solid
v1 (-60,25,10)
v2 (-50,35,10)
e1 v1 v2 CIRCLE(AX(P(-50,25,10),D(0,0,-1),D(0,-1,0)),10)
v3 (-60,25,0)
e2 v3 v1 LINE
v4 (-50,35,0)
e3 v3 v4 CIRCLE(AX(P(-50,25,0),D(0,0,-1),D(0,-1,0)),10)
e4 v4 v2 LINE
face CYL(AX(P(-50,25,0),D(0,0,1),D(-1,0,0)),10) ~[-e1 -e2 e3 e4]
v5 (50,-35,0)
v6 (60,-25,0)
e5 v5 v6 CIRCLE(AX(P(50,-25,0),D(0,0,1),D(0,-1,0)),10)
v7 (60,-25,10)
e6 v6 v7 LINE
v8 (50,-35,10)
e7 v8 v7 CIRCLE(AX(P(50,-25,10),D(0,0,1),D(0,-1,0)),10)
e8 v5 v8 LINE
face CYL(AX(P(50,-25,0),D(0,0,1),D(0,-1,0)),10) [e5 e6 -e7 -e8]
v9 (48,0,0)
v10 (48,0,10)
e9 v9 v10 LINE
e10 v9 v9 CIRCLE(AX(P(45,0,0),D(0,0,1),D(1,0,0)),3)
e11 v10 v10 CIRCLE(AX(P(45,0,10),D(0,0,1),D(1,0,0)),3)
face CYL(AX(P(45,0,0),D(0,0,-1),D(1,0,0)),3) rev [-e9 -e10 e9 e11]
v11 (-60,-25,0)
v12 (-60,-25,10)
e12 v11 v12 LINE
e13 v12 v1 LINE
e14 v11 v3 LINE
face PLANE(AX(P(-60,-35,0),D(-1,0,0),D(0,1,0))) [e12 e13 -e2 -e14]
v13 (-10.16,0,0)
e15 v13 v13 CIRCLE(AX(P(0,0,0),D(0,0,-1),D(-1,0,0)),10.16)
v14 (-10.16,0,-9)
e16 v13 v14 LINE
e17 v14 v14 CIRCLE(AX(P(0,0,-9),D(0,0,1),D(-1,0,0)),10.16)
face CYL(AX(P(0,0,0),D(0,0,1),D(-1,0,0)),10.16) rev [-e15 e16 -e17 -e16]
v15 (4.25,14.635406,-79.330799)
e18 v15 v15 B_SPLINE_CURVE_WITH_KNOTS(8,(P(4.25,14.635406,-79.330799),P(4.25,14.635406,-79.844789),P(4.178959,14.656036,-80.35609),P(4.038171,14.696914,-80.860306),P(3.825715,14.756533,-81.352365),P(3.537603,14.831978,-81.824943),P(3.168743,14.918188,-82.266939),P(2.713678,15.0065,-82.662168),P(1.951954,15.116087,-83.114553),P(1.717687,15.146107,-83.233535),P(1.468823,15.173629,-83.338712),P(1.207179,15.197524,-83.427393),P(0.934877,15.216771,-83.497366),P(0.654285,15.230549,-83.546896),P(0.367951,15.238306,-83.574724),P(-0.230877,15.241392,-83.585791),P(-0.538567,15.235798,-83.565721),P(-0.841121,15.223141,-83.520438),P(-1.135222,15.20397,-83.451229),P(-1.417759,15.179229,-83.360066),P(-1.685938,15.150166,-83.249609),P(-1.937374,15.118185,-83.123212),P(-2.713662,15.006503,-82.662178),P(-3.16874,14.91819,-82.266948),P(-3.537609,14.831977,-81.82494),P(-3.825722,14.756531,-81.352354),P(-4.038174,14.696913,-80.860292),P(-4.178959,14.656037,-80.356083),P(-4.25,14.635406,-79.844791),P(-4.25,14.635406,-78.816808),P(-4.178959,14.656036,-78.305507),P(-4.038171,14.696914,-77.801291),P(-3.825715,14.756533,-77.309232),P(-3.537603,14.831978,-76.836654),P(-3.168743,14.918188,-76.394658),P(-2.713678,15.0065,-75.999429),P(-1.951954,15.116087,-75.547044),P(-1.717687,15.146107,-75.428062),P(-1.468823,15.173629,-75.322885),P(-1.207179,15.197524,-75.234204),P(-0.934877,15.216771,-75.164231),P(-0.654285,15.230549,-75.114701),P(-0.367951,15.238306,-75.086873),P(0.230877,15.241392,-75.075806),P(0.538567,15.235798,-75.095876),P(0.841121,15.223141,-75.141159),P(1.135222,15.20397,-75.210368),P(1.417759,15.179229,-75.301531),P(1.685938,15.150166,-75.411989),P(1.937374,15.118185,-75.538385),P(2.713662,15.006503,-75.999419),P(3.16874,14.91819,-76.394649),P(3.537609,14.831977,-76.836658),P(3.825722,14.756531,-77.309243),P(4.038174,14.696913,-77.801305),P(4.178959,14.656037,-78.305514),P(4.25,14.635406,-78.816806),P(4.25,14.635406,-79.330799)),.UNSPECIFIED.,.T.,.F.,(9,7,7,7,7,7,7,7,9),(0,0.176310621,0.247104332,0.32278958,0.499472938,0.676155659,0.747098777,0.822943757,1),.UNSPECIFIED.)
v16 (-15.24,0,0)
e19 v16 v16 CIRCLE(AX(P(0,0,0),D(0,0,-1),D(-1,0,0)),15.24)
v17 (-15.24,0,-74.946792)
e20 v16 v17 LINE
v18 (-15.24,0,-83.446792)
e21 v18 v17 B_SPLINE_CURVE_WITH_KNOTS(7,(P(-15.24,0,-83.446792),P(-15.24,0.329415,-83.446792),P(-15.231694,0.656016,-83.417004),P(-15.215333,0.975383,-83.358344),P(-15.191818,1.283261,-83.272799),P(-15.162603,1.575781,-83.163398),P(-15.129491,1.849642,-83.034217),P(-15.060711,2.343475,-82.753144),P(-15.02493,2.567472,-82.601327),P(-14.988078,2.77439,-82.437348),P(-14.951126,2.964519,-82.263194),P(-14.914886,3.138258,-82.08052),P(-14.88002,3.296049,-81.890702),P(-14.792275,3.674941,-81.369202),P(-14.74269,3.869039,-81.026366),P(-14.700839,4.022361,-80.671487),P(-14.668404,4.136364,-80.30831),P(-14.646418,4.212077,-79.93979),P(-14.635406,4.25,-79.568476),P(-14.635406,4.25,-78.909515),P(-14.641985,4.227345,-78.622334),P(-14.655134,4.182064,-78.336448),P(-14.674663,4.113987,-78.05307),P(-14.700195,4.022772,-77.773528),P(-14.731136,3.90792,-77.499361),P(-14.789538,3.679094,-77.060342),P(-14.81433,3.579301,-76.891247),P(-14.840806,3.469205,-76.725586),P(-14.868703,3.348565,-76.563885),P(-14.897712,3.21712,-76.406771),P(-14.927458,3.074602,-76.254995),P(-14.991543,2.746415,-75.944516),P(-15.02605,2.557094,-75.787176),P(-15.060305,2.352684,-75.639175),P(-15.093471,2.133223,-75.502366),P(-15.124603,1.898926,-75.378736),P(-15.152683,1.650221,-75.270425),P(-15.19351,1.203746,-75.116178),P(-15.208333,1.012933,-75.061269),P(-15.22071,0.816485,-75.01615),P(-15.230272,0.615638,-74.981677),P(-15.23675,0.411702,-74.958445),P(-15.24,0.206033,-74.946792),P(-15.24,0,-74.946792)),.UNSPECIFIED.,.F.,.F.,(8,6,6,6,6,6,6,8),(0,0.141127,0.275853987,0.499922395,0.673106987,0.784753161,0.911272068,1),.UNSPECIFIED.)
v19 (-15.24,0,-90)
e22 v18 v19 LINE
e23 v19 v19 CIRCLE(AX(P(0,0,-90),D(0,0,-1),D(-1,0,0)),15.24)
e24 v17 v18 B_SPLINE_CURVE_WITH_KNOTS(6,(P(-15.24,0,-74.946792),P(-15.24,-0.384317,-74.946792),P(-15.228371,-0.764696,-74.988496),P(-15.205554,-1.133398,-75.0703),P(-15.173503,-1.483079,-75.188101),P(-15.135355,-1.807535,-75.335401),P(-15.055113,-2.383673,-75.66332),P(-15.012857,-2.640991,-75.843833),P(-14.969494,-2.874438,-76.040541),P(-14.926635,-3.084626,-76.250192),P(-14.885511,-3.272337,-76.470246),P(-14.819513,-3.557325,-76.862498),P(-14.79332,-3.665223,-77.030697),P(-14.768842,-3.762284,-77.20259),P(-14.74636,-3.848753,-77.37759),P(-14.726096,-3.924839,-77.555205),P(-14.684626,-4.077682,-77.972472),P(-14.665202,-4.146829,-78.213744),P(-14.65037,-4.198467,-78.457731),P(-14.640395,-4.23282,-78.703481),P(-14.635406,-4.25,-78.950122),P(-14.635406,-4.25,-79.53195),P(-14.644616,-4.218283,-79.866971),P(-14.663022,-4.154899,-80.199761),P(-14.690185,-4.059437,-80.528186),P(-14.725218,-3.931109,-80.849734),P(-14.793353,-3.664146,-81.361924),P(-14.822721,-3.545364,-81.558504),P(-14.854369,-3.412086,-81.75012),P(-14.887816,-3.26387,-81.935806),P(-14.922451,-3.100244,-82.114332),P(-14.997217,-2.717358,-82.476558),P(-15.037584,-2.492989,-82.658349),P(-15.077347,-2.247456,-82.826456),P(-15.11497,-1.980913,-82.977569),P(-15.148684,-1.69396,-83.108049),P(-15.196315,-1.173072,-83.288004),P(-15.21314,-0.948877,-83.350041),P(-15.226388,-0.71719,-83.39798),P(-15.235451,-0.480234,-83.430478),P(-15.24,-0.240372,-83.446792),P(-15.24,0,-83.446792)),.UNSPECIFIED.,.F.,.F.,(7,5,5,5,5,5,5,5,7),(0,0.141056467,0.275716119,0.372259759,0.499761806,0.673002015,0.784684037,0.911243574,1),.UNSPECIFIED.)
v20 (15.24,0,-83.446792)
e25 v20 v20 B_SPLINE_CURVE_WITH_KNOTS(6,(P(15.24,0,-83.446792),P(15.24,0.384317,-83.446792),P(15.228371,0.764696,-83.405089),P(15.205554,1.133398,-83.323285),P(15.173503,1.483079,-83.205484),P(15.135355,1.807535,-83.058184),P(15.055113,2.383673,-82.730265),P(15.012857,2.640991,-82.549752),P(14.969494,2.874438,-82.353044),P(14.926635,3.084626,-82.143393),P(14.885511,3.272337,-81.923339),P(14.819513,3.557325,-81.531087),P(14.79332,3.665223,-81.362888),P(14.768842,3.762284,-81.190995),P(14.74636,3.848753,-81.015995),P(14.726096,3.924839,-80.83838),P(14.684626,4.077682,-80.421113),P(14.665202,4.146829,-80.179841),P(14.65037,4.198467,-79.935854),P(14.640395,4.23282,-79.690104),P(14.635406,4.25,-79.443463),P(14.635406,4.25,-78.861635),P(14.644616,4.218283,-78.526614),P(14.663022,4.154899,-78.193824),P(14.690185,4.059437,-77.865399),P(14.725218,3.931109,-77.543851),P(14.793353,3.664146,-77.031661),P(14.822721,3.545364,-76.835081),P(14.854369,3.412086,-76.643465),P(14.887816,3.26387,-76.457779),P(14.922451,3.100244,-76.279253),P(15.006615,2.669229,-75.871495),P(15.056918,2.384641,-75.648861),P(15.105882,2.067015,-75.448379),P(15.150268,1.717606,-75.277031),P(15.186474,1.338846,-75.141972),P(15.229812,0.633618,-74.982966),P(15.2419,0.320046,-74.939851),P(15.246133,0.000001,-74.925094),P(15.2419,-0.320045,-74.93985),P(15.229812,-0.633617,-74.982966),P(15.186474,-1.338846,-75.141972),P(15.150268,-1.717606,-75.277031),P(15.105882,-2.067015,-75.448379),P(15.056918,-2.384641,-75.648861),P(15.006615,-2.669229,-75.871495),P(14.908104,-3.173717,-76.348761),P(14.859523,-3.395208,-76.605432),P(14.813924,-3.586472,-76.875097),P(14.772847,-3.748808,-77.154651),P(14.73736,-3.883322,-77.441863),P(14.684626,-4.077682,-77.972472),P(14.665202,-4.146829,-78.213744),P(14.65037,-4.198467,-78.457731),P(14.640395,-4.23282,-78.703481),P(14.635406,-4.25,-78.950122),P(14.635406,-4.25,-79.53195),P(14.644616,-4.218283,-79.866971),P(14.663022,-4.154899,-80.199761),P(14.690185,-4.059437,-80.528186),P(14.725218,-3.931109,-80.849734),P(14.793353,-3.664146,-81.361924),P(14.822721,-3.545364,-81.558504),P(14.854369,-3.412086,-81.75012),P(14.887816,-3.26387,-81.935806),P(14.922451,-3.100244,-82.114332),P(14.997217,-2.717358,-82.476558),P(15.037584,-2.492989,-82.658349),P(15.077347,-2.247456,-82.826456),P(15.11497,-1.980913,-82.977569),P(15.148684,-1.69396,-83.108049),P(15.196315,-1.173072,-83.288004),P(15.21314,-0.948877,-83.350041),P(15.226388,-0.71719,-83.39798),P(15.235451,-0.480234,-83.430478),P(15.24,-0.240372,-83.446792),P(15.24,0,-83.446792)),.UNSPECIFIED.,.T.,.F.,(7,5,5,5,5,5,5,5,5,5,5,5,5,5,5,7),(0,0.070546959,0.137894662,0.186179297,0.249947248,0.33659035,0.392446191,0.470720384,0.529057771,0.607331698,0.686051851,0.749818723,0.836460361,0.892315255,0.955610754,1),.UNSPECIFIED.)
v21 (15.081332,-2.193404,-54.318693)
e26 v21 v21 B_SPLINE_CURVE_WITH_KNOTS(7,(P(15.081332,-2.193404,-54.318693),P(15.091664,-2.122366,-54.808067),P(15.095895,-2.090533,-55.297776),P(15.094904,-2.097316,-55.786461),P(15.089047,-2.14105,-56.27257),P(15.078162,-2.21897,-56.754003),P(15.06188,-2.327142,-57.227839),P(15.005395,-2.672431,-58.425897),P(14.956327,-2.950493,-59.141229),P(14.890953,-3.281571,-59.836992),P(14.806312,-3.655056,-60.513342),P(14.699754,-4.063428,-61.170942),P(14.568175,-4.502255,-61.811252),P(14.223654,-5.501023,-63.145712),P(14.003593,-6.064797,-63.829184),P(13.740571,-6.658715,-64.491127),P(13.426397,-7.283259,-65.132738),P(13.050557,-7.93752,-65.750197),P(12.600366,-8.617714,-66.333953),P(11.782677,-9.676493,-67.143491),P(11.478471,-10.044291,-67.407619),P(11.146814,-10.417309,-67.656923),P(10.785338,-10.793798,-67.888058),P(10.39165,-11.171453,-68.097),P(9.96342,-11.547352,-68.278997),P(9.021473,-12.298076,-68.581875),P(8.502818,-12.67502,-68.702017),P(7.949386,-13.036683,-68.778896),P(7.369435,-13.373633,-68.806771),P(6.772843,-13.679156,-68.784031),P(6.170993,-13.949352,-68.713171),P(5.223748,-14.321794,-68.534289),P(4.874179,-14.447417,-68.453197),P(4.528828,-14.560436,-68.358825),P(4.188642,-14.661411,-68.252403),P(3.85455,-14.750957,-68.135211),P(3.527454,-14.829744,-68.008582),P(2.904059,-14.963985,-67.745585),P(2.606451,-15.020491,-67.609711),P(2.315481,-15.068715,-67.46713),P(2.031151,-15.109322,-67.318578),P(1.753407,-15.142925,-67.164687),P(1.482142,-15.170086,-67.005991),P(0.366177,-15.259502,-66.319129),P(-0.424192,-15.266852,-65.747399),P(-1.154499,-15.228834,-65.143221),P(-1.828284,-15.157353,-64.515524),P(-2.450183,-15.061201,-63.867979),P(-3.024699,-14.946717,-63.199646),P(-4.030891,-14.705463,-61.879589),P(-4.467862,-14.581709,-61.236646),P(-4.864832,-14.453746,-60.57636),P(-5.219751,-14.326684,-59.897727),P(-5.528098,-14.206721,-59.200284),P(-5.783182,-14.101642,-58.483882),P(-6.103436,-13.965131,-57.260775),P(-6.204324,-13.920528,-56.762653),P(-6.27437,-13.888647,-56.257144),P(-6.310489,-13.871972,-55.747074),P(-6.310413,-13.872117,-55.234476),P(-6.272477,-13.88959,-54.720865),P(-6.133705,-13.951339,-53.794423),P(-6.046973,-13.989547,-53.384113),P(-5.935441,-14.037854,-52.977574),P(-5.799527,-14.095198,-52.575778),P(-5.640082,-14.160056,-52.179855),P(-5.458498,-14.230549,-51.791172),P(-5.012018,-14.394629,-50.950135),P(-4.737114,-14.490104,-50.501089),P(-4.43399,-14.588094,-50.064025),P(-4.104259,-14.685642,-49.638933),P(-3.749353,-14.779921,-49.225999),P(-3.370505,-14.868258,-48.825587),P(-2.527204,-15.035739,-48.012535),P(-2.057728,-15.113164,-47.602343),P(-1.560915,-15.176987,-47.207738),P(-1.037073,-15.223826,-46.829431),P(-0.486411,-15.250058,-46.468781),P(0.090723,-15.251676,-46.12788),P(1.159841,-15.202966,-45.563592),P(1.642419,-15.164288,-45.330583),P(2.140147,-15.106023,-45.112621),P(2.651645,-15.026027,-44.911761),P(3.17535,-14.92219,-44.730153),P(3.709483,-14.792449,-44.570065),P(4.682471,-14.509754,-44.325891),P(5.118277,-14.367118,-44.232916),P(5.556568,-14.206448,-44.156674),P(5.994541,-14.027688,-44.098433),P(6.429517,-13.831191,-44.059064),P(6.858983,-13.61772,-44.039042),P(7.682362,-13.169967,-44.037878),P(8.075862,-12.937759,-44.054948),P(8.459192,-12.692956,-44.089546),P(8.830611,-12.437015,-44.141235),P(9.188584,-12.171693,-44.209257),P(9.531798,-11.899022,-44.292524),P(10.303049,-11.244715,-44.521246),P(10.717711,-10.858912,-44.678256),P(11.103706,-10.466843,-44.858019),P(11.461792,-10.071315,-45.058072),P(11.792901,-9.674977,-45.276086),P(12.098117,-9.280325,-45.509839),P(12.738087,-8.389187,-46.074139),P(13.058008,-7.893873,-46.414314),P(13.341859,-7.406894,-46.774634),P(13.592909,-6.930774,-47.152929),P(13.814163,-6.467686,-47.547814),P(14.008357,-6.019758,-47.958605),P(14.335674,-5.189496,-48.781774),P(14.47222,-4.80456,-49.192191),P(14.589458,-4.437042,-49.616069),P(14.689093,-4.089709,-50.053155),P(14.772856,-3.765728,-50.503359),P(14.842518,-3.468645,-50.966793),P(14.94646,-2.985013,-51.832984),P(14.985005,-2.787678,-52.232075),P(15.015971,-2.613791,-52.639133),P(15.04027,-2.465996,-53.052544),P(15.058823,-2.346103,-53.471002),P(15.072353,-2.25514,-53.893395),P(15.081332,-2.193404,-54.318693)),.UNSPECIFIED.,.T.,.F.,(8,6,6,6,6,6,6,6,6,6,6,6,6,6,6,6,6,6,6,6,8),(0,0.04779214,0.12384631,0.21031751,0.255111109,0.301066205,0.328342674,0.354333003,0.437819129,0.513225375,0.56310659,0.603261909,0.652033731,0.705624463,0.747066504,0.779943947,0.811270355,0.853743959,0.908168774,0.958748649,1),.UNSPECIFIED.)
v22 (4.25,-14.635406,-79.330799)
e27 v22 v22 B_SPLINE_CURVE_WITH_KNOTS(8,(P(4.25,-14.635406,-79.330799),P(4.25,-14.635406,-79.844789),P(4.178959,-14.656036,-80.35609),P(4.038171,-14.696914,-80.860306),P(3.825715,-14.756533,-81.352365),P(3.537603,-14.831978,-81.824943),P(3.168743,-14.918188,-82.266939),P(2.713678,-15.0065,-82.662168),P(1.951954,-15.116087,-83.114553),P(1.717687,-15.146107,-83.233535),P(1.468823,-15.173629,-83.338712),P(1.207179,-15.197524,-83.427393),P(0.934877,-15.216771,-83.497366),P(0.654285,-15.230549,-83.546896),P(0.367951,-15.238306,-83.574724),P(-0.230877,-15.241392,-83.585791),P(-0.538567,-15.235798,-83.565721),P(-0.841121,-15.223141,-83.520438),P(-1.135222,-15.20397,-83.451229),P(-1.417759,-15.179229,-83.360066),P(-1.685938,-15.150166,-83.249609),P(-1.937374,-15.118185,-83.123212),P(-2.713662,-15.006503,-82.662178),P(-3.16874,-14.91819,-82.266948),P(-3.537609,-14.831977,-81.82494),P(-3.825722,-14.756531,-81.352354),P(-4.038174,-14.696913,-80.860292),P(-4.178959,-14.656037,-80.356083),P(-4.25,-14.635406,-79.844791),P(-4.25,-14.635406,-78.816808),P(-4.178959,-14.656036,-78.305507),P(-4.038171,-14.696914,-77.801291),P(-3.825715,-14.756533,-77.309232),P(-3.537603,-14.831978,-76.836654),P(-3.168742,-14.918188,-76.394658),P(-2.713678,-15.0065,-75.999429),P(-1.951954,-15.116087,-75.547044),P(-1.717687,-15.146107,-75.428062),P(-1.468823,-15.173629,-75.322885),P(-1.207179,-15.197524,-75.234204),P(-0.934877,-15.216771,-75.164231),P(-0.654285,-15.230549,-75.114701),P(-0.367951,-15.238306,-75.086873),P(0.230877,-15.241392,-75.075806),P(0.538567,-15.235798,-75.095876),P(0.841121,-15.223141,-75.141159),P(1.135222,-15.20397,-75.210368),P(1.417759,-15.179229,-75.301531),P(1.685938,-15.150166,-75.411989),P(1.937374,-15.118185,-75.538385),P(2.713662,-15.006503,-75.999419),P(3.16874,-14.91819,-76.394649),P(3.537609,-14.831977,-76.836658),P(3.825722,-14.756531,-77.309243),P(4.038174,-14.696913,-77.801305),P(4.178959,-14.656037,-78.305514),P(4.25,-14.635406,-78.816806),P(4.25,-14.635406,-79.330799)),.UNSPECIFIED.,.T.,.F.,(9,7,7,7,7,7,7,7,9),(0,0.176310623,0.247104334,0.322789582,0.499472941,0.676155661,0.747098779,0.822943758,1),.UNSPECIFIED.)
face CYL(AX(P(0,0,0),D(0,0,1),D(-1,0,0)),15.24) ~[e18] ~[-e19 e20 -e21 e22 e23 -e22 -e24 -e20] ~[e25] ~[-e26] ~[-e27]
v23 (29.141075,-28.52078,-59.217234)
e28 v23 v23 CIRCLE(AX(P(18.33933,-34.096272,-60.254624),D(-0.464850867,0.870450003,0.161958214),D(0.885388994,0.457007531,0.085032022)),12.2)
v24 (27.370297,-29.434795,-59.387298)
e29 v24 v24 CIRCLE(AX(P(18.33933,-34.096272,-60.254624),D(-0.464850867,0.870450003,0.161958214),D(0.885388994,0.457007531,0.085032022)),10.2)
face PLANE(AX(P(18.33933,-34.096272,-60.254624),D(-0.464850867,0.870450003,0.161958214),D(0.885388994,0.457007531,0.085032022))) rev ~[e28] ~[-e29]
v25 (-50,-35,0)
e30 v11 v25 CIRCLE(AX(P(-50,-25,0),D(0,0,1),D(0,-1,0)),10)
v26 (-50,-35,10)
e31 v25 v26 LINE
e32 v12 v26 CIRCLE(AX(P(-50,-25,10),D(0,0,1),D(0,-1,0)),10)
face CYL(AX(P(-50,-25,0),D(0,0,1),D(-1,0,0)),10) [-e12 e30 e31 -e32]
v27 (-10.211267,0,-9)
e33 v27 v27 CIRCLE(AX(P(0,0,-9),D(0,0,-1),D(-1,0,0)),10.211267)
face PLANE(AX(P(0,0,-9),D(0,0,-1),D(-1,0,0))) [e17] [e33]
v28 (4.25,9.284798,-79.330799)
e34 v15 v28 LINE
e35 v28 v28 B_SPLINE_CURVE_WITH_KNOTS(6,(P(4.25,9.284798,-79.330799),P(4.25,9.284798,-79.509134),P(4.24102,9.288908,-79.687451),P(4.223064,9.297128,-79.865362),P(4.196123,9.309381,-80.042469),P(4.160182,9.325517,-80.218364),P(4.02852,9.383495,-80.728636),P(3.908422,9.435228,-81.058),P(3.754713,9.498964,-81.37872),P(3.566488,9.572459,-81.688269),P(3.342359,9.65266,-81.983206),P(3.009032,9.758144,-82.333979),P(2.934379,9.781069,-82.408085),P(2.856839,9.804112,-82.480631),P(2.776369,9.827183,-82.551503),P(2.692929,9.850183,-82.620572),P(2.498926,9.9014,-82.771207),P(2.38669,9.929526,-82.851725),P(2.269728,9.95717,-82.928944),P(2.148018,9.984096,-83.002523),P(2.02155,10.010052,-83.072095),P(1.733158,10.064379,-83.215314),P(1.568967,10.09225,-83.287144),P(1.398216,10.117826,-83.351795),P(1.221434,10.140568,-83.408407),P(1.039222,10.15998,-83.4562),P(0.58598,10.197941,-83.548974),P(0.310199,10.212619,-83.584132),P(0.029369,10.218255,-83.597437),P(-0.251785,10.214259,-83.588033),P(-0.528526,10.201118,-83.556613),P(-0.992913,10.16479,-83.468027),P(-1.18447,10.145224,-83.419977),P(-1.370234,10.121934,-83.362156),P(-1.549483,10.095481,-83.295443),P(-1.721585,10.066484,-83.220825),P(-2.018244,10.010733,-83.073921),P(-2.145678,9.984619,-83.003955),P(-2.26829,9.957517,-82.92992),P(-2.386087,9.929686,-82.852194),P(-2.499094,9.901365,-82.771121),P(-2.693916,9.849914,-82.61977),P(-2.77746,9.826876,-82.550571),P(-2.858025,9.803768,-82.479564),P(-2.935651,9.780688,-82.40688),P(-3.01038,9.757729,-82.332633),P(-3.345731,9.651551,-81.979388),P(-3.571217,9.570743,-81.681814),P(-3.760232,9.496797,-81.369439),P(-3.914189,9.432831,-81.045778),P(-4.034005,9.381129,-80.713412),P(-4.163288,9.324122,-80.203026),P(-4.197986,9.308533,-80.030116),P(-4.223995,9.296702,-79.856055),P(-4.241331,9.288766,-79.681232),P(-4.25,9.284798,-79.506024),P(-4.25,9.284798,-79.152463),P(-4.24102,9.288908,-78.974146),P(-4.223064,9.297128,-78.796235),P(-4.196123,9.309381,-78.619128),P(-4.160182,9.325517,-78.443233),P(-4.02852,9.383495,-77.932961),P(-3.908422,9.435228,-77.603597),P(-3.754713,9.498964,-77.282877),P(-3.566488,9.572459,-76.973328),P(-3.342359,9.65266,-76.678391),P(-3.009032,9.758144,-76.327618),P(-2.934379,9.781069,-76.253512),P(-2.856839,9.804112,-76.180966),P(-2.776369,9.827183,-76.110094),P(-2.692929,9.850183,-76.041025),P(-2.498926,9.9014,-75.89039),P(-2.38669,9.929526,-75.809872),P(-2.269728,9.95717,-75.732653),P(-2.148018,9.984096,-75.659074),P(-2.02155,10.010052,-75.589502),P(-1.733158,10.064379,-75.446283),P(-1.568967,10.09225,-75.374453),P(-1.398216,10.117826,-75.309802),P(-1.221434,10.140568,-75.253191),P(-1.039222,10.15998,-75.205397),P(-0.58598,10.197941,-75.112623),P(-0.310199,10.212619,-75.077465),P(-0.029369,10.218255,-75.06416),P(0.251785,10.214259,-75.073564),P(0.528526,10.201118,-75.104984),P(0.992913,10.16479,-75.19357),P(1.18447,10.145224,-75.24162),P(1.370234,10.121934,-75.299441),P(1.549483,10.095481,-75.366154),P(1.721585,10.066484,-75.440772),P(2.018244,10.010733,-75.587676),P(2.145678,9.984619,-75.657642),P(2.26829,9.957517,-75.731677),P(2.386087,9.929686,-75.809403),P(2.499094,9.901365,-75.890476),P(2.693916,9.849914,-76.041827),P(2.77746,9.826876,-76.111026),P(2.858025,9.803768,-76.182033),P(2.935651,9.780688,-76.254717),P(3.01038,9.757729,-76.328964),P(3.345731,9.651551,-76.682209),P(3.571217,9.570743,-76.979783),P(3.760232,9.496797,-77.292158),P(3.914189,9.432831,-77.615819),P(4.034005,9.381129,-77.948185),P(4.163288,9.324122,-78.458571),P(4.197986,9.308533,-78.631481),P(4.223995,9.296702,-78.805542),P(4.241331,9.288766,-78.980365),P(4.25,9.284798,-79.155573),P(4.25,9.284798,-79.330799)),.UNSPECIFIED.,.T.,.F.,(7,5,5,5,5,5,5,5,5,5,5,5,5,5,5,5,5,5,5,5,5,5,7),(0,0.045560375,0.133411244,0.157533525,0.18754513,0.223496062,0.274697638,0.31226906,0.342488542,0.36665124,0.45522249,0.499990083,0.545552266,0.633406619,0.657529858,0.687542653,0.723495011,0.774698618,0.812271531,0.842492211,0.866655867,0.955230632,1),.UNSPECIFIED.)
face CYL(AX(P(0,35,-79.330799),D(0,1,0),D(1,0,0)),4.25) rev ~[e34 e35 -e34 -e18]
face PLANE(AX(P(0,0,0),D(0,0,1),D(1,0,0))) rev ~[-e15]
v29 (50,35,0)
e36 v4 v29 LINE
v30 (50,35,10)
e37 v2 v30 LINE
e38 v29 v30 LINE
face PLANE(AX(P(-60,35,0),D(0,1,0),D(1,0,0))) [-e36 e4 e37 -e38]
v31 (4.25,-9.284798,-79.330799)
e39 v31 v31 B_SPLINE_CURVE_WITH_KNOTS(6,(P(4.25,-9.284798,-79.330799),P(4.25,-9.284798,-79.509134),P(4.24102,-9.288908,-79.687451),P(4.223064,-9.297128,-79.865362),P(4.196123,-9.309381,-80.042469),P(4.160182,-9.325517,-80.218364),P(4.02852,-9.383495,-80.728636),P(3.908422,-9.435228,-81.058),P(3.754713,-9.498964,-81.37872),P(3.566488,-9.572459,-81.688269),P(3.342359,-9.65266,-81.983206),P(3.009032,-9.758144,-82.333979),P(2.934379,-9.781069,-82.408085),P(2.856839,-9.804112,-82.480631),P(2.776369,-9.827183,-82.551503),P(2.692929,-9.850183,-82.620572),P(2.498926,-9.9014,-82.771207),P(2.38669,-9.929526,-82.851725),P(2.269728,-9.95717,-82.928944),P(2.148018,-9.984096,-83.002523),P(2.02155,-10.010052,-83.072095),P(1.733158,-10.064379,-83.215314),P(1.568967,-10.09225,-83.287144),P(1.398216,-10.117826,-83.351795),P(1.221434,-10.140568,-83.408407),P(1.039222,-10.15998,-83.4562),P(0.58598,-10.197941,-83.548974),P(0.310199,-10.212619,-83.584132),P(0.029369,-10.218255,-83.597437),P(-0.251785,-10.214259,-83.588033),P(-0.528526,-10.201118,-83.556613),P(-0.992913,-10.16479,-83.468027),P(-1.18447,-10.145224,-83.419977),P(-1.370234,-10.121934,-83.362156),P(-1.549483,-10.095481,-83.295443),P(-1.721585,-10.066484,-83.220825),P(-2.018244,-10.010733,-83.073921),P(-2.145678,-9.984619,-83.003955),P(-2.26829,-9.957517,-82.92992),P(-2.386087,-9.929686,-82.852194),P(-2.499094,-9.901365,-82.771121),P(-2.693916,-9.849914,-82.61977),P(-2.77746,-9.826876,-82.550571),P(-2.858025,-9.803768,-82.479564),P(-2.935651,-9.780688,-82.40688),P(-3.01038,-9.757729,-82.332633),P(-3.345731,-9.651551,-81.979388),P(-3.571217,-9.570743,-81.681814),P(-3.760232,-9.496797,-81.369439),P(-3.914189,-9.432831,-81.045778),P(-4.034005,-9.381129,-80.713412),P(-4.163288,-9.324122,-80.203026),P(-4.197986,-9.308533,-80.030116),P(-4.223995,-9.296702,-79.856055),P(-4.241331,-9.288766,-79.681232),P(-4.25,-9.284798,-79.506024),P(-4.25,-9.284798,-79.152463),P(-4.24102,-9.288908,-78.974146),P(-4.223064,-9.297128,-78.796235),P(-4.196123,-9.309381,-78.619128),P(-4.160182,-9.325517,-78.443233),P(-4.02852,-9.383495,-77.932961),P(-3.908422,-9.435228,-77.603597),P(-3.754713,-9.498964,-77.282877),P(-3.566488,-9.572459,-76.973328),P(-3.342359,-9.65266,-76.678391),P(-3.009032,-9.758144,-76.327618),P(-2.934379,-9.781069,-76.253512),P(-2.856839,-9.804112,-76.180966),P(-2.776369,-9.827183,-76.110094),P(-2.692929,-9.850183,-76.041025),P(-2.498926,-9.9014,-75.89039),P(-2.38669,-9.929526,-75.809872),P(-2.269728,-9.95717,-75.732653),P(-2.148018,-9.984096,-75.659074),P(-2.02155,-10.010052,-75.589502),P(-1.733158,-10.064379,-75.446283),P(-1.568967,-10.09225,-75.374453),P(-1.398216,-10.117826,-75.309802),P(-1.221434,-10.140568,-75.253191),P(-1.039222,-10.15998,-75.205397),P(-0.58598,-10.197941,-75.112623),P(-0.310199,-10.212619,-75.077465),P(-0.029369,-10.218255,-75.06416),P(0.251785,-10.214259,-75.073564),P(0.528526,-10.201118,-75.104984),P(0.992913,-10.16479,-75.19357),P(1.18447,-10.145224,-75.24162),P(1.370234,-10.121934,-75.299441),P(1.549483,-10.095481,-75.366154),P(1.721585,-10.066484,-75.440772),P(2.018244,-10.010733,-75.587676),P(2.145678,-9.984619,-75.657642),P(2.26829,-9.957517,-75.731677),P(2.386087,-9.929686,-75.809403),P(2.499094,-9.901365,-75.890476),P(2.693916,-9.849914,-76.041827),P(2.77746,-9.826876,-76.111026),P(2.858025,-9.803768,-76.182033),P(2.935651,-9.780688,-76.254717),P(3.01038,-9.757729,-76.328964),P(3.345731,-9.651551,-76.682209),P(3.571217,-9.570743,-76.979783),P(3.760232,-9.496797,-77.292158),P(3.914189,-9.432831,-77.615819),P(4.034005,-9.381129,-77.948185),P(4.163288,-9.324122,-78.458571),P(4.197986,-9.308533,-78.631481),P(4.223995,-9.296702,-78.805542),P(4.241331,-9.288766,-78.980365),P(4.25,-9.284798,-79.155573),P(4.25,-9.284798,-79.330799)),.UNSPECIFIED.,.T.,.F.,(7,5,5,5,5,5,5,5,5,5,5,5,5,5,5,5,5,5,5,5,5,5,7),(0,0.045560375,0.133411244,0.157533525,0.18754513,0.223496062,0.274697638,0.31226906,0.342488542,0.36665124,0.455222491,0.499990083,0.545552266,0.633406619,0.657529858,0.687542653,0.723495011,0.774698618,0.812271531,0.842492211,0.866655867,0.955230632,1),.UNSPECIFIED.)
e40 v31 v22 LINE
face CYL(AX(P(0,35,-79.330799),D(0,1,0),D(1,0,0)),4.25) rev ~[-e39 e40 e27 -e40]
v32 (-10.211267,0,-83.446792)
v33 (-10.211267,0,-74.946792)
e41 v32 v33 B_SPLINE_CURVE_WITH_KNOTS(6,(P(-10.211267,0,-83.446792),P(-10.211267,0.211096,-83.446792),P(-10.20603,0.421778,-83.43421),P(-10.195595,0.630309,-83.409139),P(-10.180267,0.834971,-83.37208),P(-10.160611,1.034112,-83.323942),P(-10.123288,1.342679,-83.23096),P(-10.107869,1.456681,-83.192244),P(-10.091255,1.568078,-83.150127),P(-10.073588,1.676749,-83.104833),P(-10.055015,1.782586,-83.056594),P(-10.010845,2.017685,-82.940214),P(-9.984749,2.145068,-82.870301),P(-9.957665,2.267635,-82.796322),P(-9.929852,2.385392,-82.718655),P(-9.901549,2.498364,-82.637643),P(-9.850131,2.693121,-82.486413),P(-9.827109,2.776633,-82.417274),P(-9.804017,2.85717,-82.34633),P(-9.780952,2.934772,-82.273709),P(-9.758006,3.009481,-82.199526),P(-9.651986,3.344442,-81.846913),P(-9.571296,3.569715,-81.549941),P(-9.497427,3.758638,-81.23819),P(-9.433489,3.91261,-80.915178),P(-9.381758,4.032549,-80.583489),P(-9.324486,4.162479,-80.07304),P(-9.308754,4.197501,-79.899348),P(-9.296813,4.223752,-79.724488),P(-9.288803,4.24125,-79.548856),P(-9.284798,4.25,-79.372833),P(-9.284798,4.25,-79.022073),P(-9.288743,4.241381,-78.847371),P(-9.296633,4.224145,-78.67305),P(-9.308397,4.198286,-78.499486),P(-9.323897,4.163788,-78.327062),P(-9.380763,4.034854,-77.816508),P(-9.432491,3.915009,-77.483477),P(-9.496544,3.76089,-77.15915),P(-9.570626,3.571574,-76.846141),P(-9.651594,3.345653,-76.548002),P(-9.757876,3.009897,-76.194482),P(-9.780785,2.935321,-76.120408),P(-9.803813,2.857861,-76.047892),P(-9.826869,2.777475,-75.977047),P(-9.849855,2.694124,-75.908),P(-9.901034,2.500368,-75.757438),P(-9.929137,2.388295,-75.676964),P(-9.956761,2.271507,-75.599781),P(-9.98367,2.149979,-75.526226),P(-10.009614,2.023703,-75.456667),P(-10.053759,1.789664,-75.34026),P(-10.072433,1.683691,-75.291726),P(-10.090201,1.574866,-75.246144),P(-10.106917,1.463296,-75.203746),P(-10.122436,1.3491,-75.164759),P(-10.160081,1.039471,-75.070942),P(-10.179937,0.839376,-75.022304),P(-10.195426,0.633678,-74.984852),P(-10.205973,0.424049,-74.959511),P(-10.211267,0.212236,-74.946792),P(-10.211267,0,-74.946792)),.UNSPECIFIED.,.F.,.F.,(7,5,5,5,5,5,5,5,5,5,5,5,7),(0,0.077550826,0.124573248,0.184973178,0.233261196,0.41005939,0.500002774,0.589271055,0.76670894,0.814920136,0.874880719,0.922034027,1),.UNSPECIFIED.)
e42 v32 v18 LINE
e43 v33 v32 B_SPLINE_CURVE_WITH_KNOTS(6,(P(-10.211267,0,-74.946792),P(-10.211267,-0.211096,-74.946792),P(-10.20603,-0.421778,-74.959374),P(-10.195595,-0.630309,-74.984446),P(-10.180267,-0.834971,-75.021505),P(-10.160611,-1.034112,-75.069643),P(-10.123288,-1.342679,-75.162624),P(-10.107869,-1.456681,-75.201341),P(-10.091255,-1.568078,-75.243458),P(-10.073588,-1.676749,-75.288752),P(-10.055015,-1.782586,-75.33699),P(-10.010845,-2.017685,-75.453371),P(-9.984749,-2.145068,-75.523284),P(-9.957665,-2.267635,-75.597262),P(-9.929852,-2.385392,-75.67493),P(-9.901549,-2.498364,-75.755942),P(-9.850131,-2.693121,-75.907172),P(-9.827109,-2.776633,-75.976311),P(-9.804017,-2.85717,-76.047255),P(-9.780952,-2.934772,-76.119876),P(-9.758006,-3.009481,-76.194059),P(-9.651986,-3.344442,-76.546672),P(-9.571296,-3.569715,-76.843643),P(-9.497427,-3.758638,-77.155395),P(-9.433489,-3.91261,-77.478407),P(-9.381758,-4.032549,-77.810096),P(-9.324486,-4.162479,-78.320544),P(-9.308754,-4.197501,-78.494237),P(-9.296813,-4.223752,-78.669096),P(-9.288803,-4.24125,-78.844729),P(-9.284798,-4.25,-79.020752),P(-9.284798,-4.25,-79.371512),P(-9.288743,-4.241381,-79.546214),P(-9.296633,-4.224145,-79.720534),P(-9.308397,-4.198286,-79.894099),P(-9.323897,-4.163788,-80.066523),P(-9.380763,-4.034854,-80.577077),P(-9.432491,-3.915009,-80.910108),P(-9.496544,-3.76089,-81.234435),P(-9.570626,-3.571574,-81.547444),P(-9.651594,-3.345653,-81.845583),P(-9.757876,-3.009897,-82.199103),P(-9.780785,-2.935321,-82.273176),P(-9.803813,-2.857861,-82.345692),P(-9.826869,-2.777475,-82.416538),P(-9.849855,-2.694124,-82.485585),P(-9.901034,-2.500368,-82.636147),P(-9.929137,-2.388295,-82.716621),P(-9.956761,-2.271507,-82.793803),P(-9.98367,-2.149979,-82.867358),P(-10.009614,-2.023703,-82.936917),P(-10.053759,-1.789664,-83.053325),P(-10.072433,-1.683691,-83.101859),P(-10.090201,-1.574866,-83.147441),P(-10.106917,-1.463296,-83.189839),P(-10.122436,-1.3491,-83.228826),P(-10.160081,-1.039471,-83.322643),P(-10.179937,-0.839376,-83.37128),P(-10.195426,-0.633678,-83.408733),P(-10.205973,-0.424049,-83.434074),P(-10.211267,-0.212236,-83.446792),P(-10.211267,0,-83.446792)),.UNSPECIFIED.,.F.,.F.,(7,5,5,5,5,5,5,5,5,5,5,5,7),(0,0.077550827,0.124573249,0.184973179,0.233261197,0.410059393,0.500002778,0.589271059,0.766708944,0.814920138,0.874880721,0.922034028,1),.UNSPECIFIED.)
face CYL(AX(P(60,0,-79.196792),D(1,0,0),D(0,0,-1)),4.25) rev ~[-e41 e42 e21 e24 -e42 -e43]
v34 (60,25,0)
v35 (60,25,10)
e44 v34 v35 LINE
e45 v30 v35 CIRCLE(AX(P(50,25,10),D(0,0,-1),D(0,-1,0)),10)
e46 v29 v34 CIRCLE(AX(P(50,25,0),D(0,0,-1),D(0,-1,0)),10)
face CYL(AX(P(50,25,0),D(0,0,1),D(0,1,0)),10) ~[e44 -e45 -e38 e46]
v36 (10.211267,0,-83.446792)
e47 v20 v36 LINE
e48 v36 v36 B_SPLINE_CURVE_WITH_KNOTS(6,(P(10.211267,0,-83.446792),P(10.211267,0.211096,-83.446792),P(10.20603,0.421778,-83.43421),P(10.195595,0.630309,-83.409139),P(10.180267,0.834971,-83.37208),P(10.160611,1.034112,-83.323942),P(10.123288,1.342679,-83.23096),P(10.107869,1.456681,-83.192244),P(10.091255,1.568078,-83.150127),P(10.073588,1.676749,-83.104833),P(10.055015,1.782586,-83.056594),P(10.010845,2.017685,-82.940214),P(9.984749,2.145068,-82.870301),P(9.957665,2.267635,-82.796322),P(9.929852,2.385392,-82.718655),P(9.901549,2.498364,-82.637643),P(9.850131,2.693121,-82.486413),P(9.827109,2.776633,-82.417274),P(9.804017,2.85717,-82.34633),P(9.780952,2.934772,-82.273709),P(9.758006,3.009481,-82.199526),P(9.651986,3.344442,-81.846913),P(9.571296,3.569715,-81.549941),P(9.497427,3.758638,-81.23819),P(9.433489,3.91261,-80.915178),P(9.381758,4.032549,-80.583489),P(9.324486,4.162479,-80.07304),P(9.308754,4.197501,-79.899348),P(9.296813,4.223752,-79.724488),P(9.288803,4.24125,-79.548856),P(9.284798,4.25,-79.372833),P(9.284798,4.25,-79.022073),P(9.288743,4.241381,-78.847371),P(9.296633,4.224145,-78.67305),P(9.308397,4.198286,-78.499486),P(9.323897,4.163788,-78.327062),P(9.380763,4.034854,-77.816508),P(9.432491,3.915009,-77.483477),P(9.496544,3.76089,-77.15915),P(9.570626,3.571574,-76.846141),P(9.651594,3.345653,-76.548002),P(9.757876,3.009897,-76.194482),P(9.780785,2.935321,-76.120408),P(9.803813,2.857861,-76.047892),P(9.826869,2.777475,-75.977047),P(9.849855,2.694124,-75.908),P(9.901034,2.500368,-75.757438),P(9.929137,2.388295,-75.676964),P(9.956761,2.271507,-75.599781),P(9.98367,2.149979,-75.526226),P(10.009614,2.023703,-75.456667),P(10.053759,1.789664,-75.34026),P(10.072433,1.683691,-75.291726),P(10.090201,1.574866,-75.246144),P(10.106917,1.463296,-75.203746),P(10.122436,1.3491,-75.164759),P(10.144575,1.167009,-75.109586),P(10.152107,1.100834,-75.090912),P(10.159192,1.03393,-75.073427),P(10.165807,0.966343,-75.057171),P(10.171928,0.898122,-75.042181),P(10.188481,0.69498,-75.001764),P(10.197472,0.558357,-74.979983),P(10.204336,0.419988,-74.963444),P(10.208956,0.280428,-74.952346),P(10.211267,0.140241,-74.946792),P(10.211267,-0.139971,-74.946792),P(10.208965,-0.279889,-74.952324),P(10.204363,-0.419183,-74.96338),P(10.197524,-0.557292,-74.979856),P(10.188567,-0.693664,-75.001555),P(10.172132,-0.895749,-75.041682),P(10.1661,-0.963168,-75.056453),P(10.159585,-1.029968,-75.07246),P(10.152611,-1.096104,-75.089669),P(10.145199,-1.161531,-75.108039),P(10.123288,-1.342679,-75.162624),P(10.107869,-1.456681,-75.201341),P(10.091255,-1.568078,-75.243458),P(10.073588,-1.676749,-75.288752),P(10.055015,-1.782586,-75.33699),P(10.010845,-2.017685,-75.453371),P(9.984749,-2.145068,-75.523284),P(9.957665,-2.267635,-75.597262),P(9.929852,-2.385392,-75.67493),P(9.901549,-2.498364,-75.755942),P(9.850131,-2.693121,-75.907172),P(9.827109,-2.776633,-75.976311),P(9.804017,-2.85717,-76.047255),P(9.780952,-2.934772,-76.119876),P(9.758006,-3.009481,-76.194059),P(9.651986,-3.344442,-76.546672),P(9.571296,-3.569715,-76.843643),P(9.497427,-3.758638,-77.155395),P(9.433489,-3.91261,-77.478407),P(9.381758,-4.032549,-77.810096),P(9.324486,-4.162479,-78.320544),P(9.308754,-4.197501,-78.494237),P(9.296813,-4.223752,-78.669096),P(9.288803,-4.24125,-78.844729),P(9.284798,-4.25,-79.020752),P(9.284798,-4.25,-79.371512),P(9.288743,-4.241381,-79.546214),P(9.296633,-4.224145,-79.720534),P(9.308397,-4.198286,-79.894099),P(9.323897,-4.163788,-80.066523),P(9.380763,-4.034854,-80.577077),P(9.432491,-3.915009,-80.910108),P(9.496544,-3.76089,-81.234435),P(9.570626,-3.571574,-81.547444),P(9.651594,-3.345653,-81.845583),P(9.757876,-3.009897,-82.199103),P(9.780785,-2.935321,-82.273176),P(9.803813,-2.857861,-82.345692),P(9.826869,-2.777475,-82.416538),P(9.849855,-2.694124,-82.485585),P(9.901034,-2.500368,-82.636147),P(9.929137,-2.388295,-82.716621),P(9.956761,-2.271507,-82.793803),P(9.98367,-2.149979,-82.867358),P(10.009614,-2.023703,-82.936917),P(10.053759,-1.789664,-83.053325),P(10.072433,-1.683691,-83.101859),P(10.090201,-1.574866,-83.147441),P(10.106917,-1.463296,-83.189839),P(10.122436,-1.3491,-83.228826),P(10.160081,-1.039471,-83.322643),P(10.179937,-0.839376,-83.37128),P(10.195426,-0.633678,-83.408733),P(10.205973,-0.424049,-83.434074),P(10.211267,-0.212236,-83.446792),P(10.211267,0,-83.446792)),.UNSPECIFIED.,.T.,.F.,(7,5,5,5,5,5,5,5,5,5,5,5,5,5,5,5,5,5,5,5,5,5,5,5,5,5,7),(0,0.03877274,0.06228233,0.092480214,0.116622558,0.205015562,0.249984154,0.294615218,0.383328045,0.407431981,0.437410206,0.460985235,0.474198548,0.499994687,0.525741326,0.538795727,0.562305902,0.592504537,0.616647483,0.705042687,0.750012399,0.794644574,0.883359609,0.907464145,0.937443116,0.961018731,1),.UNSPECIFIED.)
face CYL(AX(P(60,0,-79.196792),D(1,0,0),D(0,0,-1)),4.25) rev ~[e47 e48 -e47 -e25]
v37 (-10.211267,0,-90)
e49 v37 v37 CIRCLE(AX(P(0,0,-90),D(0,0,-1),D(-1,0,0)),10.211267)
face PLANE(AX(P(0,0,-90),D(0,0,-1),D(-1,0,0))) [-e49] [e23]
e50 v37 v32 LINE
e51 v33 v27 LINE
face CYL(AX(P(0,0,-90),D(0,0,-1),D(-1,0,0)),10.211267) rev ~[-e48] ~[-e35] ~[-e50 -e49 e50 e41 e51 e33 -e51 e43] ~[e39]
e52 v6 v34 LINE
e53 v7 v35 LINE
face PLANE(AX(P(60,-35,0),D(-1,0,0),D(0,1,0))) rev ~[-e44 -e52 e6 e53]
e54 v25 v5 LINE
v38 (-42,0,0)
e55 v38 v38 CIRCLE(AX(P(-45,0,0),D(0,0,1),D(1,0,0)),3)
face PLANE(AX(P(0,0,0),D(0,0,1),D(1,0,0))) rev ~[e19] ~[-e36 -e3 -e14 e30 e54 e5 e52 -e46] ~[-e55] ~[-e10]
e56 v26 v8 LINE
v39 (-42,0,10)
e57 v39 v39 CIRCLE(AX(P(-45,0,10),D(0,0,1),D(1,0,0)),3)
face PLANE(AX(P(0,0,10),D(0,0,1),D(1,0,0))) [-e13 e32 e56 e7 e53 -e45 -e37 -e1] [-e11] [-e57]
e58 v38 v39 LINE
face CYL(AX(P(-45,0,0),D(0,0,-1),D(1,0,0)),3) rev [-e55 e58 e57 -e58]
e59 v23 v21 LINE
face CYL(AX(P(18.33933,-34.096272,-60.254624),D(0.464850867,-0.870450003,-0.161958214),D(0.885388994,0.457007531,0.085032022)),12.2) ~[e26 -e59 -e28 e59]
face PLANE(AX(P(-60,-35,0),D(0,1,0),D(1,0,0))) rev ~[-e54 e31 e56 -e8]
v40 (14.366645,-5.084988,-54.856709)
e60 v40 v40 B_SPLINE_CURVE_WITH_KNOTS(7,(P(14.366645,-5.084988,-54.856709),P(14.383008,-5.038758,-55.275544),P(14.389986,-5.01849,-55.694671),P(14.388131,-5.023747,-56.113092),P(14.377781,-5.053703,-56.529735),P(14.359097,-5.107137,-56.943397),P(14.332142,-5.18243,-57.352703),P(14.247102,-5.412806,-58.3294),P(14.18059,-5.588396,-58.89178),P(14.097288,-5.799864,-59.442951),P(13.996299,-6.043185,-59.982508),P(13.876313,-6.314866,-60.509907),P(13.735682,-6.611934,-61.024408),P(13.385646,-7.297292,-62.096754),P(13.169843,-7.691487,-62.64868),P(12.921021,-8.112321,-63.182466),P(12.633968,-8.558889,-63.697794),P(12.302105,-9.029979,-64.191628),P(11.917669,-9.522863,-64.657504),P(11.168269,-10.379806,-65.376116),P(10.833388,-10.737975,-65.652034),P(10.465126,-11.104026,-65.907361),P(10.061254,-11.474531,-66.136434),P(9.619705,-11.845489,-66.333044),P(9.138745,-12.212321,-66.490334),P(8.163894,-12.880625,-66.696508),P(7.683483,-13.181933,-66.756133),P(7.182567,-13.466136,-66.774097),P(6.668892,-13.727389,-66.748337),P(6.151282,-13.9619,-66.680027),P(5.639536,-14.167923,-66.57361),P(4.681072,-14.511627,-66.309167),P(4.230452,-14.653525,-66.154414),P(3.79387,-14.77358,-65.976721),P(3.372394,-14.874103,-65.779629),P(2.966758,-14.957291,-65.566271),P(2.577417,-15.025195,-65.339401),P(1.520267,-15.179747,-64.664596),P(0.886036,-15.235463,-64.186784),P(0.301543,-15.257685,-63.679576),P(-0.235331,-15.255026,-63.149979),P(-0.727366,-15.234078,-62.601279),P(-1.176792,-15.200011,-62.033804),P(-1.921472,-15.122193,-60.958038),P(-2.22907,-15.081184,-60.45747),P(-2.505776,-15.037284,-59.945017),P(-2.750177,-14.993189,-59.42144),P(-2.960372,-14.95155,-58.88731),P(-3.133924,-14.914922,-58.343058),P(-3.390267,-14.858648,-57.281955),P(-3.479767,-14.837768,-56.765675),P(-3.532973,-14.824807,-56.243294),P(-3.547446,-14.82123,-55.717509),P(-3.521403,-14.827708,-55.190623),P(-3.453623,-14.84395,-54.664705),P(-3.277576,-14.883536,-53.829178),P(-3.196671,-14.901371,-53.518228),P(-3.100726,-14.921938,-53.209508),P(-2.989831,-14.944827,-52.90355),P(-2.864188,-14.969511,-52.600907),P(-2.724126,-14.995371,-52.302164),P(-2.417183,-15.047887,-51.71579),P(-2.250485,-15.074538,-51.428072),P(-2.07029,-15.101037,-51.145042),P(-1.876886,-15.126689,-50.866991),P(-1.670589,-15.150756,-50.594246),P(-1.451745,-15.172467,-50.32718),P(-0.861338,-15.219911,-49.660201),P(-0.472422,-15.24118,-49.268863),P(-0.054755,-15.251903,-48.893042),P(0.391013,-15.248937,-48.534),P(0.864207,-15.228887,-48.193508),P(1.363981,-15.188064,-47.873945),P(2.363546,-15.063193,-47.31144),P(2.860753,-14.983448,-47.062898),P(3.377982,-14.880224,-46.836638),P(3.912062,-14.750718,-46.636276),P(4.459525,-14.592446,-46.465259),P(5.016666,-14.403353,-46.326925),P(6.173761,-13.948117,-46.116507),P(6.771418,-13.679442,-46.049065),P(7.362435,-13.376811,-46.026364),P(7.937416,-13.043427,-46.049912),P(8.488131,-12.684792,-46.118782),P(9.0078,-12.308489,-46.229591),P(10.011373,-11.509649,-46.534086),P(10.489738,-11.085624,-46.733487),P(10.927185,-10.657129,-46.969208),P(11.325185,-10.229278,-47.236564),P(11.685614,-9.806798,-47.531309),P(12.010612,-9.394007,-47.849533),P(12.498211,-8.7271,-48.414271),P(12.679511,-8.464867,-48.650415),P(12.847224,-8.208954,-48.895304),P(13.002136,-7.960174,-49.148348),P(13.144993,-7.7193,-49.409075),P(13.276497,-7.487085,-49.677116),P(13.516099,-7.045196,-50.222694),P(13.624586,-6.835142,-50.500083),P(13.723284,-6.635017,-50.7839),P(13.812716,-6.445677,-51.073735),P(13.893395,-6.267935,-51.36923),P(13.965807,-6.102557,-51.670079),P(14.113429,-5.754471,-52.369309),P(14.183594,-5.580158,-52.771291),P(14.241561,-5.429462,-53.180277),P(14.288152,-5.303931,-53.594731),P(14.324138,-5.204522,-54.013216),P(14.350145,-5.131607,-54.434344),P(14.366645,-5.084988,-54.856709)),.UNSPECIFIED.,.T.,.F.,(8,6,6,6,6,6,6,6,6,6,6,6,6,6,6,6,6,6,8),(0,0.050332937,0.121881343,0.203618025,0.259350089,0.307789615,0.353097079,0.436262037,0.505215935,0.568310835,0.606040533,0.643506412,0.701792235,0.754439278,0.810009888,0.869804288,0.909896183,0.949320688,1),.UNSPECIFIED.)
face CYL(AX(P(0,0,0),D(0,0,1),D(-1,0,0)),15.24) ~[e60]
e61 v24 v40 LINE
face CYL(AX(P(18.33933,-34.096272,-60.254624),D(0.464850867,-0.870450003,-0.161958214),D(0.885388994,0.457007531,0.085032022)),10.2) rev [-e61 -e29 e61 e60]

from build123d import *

# Parameters (mm, degrees)
SKETCH1_W                = 120
SKETCH1_H                = 70
SKETCH1_R                = 3
BOSS_EXTRUDE1_DEPTH      = 10
SKETCH2_R                = 15.24
SKETCH2_R_2              = 10.16
BOSS_EXTRUDE2_DEPTH      = 90
BOSS_EXTRUDE4_DEPTH      = 27
BOSS_EXTRUDE4_DEPTH_BACK = 20
SKETCH4_R                = 12.2
SKETCH4_R_2              = 10.2
SKETCH6_R                = 4.25
CUT_EXTRUDE1_DEPTH       = 58
SKETCH7_R                = 4.25
CUT_EXTRUDE2_DEPTH       = 81
FILLET1_R                = 10
SKETCH8_R                = 10.211266942
CUT_EXTRUDE3_DEPTH       = 81


with BuildPart() as part:
    # Sketch1 → Boss-Extrude1 (new body)
    with BuildSketch(Plane.XY):
        Rectangle(SKETCH1_W, SKETCH1_H)
        with Locations((-45, 0)):
            Circle(SKETCH1_R, mode=Mode.SUBTRACT)
        with Locations((45, 0)):
            Circle(SKETCH1_R, mode=Mode.SUBTRACT)
    extrude(amount=BOSS_EXTRUDE1_DEPTH)

    # Sketch2 → Boss-Extrude2 (add)
    with BuildSketch(Plane(origin=(0, 0, 0), x_dir=(-1, 0, 0), z_dir=(0, 0, -1))):
        Circle(SKETCH2_R)
        Circle(SKETCH2_R_2, mode=Mode.SUBTRACT)
    extrude(amount=BOSS_EXTRUDE2_DEPTH)

    # Sketch4 → Boss-Extrude4 (add, two sides: drawn at the far end of the back side and taken through both)
    with BuildSketch(Plane(origin=(12.998571072, -24.340292843, -4.528818833), x_dir=(0.8853889944012755, 0.45700753148549944, 0.08503202196013275), z_dir=(-0.46485086704565615, 0.870450003260969, 0.16195821445632522)).offset(-BOSS_EXTRUDE4_DEPTH_BACK)):
        with Locations((-4.468384796, 53.00095998)):
            Circle(SKETCH4_R)
        with Locations((-4.468384796, 53.00095998)):
            Circle(SKETCH4_R_2, mode=Mode.SUBTRACT)
    extrude(amount=BOSS_EXTRUDE4_DEPTH + BOSS_EXTRUDE4_DEPTH_BACK)

    # Sketch6 → Cut-Extrude1 (cut)
    with BuildSketch(Plane(origin=(0, 35, 0), x_dir=(1, 0, 0), z_dir=(0, 1, 0))):
        with Locations((0, 79.330798524)):
            Circle(SKETCH6_R)
    extrude(amount=-CUT_EXTRUDE1_DEPTH, mode=Mode.SUBTRACT)

    # Sketch7 → Cut-Extrude2 (cut)
    with BuildSketch(Plane(origin=(60, 0, 0), x_dir=(0, 0, -1), z_dir=(1, 0, 0))):
        with Locations((79.196792396, 0)):
            Circle(SKETCH7_R)
    extrude(amount=-CUT_EXTRUDE2_DEPTH, mode=Mode.SUBTRACT)

    # Fillet1
    fillet1_edges = [part.edges().sort_by_distance(p)[0] for p in [
        (60, -35, 5),
        (-60, -35, 5),
        (-60, 35, 5),
        (60, 35, 5),
    ]]
    fillet(fillet1_edges, radius=FILLET1_R)

    # Sketch8 → Cut-Extrude3 (cut)
    with BuildSketch(Plane(origin=(0, 0, -90), x_dir=(-1, 0, 0), z_dir=(0, 0, -1))):
        Circle(SKETCH8_R)
    extrude(amount=-CUT_EXTRUDE3_DEPTH, mode=Mode.SUBTRACT)


solid = part.part
